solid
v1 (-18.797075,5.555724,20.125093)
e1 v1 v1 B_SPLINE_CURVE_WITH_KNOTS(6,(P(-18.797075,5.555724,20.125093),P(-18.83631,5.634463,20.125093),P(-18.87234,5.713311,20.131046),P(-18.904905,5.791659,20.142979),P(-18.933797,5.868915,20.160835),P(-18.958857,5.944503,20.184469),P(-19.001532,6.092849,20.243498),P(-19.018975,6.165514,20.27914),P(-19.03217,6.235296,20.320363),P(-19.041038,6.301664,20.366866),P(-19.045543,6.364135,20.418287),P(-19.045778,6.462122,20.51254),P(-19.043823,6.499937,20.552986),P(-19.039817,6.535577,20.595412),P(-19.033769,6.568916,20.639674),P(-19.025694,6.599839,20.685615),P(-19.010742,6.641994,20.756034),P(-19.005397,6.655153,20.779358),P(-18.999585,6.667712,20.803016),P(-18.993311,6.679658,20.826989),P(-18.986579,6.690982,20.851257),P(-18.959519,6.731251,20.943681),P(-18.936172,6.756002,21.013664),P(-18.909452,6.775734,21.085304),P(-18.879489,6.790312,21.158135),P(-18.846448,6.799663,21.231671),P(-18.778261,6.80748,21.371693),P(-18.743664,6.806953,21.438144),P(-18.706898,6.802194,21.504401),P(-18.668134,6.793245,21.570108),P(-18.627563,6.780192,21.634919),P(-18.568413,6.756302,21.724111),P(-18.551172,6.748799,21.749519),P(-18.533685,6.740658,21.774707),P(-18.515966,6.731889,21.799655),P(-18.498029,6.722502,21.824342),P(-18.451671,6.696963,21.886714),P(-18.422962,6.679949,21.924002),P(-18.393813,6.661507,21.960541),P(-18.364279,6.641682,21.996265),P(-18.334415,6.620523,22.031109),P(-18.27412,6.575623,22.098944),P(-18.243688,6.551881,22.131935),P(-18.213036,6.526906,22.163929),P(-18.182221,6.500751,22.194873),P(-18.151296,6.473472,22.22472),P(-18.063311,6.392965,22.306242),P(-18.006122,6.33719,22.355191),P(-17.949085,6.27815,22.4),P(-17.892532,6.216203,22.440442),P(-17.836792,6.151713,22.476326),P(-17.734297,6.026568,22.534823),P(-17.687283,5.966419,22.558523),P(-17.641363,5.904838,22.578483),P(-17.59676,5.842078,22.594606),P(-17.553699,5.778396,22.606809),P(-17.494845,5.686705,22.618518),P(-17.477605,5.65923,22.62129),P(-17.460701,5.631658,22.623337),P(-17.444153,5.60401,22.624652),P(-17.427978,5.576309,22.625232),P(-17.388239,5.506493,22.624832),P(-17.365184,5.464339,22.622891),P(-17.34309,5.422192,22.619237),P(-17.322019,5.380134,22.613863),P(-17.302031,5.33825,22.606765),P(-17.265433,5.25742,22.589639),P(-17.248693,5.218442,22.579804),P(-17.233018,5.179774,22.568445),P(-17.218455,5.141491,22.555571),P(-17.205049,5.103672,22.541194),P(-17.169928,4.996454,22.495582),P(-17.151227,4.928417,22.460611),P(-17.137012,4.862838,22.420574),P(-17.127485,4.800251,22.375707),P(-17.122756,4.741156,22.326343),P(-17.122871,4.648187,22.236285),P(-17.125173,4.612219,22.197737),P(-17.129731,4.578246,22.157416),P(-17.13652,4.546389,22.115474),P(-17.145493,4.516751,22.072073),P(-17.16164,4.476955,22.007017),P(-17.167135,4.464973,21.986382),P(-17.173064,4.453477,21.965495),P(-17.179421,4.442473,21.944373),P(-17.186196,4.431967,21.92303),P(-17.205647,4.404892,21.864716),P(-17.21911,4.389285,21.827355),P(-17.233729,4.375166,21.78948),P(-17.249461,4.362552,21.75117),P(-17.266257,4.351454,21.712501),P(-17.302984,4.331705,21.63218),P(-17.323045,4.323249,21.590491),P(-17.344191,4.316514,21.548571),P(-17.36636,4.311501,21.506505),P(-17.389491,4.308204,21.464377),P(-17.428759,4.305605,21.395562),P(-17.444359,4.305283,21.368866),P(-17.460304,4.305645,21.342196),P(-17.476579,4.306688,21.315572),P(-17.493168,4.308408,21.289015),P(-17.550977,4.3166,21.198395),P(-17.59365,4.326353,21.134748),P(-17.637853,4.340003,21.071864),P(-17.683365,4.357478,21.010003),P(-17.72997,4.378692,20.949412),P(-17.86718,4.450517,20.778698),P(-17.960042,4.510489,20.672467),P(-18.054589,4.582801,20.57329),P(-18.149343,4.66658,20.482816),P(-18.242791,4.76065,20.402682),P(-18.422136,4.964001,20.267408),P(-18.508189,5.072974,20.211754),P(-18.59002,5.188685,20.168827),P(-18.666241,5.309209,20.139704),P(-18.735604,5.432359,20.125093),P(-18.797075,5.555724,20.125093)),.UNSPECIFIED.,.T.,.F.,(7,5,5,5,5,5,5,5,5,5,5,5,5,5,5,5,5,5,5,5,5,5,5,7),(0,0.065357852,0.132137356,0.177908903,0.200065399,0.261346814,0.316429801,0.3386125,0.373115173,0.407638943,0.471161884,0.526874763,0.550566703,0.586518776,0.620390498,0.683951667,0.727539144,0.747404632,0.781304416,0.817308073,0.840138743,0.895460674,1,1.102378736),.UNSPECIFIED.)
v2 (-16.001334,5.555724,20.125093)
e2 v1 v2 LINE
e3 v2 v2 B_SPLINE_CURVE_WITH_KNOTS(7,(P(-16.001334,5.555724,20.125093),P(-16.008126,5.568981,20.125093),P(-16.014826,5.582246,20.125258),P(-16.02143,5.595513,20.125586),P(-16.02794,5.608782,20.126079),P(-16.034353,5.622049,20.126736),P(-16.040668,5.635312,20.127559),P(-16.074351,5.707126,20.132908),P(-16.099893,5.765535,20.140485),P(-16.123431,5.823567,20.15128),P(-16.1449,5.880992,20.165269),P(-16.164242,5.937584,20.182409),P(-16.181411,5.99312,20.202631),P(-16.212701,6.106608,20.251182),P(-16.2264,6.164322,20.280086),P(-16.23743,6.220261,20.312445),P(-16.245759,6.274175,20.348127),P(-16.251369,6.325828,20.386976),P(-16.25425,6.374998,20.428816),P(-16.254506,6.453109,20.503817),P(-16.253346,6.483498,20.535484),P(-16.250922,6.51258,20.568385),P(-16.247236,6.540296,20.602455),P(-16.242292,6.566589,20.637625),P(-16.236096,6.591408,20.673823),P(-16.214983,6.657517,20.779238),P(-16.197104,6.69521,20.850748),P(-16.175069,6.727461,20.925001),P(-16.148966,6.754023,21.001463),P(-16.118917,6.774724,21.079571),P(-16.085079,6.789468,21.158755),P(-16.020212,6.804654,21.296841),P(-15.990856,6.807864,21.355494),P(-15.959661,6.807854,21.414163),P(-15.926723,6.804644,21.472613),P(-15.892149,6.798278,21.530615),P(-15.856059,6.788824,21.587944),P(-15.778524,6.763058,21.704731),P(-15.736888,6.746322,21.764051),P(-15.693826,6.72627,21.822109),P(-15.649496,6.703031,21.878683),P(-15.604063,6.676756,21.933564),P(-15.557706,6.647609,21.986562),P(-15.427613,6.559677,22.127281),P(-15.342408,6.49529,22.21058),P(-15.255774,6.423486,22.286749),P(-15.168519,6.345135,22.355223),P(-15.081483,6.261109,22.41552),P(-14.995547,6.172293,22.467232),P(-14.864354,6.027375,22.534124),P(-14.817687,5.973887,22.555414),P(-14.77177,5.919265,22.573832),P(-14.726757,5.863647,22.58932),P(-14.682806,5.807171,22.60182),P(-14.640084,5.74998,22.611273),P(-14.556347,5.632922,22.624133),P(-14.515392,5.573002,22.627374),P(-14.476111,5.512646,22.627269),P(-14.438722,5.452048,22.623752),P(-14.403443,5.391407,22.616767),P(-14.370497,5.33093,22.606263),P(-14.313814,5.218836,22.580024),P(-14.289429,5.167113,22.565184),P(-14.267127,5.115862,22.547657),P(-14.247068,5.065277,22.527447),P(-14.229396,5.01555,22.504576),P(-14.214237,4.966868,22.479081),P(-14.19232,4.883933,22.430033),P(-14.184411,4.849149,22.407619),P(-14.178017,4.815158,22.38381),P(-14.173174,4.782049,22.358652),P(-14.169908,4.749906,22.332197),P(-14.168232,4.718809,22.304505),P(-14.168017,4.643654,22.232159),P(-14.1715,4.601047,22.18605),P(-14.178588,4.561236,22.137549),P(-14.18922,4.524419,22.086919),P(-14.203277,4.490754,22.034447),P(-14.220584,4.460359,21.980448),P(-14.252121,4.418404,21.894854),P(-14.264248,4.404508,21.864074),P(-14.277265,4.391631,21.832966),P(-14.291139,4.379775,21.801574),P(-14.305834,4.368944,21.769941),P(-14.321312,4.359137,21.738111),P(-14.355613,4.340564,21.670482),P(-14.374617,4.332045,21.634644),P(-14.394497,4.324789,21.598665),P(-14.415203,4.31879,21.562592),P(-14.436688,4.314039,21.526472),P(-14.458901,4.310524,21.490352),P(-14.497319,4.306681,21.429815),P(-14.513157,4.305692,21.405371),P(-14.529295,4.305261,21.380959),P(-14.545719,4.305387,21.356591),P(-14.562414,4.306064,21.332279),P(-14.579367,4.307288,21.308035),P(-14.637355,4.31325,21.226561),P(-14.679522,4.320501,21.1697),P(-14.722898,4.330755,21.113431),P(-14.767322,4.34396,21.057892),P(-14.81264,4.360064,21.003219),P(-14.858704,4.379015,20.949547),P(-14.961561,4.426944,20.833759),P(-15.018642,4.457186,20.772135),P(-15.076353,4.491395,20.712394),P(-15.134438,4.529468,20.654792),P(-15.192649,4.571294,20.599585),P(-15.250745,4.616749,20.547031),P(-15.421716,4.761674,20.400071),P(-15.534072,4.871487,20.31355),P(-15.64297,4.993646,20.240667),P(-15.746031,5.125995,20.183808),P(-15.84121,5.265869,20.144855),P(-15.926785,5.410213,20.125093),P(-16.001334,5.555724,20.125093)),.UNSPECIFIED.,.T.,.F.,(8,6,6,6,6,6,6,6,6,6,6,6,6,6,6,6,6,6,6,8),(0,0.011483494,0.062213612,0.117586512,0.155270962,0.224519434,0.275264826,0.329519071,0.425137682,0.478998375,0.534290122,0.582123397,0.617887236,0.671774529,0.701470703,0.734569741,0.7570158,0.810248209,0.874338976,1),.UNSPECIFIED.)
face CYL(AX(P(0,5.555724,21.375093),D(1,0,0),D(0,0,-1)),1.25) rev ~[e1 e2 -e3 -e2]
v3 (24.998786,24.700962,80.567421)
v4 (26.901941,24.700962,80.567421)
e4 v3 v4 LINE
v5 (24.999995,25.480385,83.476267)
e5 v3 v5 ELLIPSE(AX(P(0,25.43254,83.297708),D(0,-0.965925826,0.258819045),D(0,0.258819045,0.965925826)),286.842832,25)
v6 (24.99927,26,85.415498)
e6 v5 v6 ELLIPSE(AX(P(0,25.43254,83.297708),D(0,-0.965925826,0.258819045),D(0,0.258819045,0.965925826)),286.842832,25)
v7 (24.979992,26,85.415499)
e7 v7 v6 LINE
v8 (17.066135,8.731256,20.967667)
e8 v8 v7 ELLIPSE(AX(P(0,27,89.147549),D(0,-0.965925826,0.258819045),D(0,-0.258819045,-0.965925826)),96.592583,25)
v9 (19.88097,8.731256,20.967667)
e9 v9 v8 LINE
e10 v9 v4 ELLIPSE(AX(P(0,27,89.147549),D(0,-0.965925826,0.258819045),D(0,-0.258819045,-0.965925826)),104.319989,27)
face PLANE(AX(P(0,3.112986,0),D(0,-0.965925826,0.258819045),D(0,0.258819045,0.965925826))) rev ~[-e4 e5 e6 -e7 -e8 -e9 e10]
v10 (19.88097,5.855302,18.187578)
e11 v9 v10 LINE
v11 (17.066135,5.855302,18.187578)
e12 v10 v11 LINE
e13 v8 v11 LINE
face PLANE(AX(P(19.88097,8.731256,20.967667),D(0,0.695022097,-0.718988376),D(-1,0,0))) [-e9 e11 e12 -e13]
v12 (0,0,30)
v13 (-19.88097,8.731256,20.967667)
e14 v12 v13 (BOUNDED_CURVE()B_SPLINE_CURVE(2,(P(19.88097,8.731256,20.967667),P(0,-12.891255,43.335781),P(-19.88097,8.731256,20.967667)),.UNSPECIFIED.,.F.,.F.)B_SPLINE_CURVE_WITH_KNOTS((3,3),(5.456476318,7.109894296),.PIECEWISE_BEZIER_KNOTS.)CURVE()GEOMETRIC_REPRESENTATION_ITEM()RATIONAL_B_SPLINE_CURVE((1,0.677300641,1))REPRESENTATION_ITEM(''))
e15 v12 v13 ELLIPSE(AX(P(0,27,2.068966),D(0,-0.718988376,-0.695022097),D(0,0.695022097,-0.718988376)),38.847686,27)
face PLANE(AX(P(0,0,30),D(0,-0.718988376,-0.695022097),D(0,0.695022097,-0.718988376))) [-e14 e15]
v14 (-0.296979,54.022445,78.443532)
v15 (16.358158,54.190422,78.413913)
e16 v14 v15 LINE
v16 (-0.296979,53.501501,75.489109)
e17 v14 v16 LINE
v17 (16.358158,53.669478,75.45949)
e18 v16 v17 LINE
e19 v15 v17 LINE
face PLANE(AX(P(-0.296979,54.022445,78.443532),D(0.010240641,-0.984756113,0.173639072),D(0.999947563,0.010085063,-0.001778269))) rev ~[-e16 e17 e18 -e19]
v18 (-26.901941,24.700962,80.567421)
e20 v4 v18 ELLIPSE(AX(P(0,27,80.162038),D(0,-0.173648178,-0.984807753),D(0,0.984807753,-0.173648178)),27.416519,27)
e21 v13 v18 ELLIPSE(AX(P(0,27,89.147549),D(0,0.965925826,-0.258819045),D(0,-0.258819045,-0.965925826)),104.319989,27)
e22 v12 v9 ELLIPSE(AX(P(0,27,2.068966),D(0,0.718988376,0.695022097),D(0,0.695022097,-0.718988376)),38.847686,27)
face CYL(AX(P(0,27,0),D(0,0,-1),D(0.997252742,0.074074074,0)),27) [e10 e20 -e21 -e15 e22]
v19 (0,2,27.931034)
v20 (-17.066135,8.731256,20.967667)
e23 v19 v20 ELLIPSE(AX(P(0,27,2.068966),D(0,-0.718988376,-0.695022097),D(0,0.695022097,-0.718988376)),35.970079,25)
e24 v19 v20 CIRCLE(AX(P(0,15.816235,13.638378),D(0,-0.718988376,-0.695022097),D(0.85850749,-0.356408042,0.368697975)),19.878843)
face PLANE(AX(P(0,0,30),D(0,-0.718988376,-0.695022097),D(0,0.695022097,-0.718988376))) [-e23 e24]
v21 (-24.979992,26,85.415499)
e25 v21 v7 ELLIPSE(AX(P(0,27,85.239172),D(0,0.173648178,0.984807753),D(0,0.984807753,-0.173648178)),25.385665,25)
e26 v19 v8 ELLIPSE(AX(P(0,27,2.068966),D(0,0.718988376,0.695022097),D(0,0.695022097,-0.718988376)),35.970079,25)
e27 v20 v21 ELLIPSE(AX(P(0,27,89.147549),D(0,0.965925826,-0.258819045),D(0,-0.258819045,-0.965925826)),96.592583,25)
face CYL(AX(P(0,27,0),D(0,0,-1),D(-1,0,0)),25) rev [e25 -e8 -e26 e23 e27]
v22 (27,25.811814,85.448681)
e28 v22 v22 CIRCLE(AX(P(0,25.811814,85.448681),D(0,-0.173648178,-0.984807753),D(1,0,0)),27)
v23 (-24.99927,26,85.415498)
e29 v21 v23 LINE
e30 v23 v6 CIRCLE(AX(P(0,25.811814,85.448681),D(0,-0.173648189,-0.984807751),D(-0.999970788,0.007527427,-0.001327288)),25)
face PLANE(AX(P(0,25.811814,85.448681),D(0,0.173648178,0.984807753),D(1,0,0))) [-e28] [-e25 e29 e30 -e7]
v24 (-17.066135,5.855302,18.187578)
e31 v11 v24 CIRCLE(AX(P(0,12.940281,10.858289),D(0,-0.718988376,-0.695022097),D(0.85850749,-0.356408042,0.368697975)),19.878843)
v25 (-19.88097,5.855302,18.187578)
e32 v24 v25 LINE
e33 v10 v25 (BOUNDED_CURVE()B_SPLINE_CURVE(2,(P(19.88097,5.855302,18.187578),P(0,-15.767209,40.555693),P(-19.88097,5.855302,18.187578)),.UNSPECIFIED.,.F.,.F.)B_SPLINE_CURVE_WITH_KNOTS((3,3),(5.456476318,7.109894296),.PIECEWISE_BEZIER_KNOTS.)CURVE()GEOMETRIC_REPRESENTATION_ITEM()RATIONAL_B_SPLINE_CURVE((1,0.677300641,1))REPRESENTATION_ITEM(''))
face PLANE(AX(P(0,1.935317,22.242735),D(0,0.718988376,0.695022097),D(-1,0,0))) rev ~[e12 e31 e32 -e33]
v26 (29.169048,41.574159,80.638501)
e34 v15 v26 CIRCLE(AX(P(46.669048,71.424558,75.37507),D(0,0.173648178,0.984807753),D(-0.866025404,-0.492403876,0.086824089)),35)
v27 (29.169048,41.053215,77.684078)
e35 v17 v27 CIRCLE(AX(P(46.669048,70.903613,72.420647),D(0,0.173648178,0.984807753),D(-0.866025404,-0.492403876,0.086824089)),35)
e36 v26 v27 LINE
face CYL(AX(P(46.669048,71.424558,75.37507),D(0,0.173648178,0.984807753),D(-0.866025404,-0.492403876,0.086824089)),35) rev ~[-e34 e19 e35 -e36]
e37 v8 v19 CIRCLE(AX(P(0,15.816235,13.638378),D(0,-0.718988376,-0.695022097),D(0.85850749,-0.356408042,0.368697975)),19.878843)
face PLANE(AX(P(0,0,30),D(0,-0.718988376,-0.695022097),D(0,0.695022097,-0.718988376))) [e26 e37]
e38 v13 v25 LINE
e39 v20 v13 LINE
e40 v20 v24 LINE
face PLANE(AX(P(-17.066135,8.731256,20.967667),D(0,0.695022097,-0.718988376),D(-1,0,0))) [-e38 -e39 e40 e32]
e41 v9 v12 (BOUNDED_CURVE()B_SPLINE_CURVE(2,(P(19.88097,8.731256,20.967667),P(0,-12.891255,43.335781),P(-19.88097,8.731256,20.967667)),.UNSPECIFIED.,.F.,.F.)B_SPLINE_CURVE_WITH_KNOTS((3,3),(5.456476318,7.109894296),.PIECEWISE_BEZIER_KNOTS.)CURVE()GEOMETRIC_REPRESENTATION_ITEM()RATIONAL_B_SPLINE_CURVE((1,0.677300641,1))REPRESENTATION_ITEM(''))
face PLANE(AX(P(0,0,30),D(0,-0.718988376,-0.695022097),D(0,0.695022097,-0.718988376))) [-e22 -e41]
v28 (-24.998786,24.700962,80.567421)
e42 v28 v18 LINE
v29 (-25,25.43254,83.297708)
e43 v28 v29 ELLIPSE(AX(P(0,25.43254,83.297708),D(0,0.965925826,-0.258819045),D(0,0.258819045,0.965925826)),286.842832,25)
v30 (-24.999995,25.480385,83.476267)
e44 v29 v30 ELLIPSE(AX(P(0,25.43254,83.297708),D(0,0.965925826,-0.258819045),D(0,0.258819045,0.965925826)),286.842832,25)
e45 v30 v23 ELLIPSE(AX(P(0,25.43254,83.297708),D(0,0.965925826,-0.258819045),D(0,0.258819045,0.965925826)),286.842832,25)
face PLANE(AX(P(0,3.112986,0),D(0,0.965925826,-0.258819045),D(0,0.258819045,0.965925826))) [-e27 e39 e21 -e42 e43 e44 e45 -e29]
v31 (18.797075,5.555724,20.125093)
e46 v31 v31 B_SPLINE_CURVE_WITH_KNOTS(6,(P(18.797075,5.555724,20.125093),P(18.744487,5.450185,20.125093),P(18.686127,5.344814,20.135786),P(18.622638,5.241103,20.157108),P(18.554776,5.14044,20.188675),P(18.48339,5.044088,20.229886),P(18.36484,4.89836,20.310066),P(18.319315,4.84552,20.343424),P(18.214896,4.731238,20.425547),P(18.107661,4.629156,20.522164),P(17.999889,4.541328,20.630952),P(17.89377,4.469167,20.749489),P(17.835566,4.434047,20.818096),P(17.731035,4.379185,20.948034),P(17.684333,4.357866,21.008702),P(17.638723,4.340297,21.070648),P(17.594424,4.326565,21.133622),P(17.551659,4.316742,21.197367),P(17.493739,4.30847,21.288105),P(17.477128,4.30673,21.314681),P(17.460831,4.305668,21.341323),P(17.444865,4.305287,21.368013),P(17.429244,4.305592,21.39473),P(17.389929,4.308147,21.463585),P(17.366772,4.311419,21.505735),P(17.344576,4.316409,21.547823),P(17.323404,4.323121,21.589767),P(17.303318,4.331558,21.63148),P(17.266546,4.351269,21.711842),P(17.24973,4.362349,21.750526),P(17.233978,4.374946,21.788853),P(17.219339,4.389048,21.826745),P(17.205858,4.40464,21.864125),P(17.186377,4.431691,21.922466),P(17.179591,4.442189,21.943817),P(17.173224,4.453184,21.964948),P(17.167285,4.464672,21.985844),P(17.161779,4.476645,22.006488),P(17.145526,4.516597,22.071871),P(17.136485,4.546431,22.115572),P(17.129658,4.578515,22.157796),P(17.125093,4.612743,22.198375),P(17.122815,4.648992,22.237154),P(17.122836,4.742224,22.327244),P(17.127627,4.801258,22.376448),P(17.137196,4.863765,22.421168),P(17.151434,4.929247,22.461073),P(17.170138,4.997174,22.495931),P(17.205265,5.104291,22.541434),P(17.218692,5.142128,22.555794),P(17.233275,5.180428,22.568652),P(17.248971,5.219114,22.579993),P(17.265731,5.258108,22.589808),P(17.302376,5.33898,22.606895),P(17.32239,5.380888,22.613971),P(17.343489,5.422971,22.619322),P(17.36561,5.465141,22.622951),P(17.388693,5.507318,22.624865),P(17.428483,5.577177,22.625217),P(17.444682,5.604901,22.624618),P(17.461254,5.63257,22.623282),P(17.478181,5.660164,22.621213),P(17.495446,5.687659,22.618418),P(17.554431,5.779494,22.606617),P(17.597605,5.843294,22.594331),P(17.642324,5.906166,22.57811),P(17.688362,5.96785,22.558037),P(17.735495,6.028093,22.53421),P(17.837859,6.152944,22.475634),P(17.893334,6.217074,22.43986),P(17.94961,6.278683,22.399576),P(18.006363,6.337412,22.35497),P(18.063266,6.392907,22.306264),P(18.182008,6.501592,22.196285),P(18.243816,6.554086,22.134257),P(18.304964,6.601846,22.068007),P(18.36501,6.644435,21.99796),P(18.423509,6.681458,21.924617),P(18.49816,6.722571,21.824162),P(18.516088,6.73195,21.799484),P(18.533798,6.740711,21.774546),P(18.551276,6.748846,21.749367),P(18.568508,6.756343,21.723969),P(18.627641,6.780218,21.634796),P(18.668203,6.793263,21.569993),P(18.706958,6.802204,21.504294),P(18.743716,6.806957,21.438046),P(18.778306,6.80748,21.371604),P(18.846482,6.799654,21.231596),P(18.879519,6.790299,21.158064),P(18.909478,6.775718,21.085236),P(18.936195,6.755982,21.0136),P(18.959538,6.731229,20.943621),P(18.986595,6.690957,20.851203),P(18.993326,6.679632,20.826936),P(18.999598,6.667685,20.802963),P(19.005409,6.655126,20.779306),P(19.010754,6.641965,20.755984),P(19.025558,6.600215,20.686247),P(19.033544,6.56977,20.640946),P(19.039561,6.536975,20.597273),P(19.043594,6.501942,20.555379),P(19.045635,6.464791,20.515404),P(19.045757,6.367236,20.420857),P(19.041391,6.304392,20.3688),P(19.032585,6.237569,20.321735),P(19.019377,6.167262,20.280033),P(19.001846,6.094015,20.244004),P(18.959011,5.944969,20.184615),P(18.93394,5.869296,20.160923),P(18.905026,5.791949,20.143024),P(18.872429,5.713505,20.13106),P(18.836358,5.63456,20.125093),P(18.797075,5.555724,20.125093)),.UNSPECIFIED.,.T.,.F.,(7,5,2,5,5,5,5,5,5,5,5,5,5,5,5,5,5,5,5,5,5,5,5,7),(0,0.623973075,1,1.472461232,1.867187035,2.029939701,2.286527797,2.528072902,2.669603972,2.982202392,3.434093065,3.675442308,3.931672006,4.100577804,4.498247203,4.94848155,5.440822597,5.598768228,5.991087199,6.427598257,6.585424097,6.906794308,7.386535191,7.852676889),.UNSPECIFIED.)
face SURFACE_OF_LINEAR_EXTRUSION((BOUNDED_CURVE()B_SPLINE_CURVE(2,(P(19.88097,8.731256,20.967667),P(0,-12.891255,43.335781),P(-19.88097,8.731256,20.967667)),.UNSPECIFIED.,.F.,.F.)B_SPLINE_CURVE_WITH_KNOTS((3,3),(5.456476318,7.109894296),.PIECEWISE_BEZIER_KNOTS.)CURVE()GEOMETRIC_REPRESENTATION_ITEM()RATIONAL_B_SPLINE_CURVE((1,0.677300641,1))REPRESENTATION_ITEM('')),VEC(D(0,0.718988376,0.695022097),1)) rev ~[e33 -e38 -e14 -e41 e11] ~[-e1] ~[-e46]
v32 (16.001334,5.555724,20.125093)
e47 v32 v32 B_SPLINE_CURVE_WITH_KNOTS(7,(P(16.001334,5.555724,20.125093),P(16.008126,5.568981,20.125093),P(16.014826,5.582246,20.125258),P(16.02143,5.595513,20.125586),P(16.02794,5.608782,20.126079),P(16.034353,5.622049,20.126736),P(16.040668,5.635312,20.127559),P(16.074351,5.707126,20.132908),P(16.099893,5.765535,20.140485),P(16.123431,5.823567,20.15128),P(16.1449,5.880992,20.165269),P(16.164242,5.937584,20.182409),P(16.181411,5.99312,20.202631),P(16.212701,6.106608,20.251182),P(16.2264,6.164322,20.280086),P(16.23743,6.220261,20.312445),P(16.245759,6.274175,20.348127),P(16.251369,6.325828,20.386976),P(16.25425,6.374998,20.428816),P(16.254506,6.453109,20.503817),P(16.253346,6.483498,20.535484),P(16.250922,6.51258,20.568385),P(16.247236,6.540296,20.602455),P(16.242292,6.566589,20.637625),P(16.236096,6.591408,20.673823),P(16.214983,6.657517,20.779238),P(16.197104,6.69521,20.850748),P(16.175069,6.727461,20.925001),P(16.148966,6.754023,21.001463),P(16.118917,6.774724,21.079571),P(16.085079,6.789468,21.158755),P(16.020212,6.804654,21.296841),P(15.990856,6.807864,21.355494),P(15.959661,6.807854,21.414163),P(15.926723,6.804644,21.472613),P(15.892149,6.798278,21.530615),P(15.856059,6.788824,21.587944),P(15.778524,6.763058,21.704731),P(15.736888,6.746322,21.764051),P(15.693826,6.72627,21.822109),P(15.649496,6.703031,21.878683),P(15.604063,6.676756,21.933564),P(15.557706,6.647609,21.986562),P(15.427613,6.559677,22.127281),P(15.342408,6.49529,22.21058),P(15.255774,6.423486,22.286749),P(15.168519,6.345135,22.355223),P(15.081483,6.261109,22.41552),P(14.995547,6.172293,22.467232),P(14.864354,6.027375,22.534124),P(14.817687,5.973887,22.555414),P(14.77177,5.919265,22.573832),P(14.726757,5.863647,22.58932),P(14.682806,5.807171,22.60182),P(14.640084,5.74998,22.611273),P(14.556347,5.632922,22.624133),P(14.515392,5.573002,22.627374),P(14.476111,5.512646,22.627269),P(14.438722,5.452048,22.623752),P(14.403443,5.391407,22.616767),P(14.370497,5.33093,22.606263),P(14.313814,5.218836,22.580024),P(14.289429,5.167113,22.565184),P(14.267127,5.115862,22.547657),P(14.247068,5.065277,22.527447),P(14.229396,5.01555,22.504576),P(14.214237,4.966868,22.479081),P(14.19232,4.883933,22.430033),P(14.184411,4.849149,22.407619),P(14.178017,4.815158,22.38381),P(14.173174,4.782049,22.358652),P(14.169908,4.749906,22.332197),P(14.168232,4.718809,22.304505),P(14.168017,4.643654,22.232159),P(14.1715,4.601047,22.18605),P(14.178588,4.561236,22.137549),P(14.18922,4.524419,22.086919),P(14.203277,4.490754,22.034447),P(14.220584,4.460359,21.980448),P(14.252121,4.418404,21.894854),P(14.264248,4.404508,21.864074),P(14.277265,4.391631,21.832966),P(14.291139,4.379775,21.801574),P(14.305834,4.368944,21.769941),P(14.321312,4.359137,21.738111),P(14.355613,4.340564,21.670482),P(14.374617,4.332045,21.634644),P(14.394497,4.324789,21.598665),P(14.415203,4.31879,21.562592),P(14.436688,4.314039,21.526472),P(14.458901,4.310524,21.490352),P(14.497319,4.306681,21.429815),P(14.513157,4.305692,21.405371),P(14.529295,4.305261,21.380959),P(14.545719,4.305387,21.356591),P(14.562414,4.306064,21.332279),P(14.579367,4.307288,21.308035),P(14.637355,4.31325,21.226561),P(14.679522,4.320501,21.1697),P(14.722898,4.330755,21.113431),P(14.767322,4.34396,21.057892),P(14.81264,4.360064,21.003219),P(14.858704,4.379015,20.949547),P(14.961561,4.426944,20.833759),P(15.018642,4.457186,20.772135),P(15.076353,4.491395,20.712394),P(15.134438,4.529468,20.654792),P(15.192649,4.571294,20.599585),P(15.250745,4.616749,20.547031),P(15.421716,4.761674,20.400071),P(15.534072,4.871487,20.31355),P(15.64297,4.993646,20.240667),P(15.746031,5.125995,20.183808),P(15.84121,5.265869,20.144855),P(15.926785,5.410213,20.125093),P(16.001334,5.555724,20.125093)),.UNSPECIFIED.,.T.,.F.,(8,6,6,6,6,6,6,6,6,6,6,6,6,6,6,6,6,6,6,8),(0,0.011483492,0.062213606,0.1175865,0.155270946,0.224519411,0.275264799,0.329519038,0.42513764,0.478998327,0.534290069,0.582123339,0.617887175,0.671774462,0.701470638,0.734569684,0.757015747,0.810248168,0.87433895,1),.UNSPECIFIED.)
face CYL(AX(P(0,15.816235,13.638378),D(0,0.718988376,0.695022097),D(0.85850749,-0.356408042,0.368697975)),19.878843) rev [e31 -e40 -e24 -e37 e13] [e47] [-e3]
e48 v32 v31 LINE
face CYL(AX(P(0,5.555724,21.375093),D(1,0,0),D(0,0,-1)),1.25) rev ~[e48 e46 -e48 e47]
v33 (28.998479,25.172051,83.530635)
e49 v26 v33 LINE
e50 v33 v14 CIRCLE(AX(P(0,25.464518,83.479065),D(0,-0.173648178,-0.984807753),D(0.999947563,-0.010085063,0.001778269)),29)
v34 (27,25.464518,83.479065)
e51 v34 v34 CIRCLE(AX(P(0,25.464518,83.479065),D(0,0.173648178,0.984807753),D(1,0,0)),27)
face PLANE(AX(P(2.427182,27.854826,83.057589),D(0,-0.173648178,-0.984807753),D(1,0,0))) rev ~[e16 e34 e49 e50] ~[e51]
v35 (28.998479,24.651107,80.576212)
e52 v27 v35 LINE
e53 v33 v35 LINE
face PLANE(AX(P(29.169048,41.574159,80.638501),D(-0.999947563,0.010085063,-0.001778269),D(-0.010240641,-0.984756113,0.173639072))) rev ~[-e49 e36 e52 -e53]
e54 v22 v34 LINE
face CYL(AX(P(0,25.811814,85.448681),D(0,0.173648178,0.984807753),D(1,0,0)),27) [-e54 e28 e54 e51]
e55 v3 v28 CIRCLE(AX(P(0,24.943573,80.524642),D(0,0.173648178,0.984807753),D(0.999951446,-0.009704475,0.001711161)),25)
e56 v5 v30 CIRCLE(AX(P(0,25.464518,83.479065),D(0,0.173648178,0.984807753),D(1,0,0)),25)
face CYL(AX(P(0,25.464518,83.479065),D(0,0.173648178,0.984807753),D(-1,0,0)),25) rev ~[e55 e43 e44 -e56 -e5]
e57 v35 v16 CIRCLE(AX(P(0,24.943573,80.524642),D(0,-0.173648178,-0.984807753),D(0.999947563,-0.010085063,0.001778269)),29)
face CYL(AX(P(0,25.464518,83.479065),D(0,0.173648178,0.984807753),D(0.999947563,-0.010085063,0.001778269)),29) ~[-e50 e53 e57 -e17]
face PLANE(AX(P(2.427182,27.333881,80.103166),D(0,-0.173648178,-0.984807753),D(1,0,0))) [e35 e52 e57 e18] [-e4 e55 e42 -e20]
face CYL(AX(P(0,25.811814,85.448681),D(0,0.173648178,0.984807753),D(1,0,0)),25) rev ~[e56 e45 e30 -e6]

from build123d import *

# Parameters (mm, degrees)
MAIN_DEPTH                = 90
TOPSUPPORT_DEPTH          = 28
TOPSUPPORT_DEPTH_BACK     = 28
BACK_EXTRUSION_DEPTH      = 28
BACK_EXTRUSION_DEPTH_BACK = 28
BACK_DEPTH                = 4
SKETCH8_R                 = 1.25
ROLLINGHOLESUPPORT_DEPTH  = 25
SKETCH3_R                 = 27
SKETCH3_R_2               = 25
CIRCLEFIX_DEPTH           = 2
SKETCH5_R                 = 25
TRIANGLEFIX_DEPTH         = 3
SKETCH12_R                = 52.533480643
CUT_EXTRUDE2_DEPTH        = 10.545165469


with BuildPart() as part:
    # Sketch1 → Main (new body)
    with BuildSketch(Plane.XY):
        with BuildLine():
            Line((25, 27), (25, 29))
            Line((25, 29), (26.925824036, 29))
            ThreePointArc((26.925824036, 29), (0, 0), (-26.925824036, 29))
            Line((-26.925824036, 29), (-25, 29))
            Line((-25, 29), (-25, 27))
            ThreePointArc((-25, 27), (0, 2), (25, 27))
        make_face()
    extrude(amount=MAIN_DEPTH)

    # Sketch11 → TopSupport (cut, two sides)
    with BuildSketch(Plane(origin=(0, 0, 0), x_dir=(0, 0, -1), z_dir=(1, 0, 0))) as topsupport_sk:
        Polygon((-84.886517559, 29), (0, 29), (0, 3.112986155), (-85.415498502, 26), align=None)
    extrude(amount=TOPSUPPORT_DEPTH, mode=Mode.SUBTRACT)
    extrude(topsupport_sk.sketch, amount=-TOPSUPPORT_DEPTH_BACK, mode=Mode.SUBTRACT)

    # Sketch6 → Back-Extrusion (cut, two sides)
    with BuildSketch(Plane(origin=(0, 0, 0), x_dir=(0, 0, -1), z_dir=(1, 0, 0))) as back_extrusion_sk:
        Polygon((0, 29), (0, 0), (-30, 0), align=None)
    extrude(amount=BACK_EXTRUSION_DEPTH, mode=Mode.SUBTRACT)
    extrude(back_extrusion_sk.sketch, amount=-BACK_EXTRUSION_DEPTH_BACK, mode=Mode.SUBTRACT)

    # Sketch7 → Back (add)
    with BuildSketch(Plane(origin=(0, 14.991384262, 14.491671453), x_dir=(1, 0, 0), z_dir=(0, -0.718988376, -0.695022097))):
        with BuildLine():
            Line((19.880970173, 9.007093118), (17.066135327, 9.007093118))
            ThreePointArc((17.066135327, 9.007093118), (0, 18.69204493), (-17.066135327, 9.007093118))
            Line((-17.066135327, 9.007093118), (-19.880970173, 9.007093118))
            add(Edge.make_bspline(
                [(19.880970173, 9.007093118), (0, 40.117630414), (-19.880970173, 9.007093118)],
                knots=[5.456476318, 5.456476318, 5.456476318, 7.109894296, 7.109894296, 7.109894296], degree=2, weights=[1, 0.677300641, 1]))
        make_face()
    extrude(amount=BACK_DEPTH)

    # Sketch8 → RollingHoleSupport (cut, symmetric)
    with BuildSketch(Plane(origin=(0, 0, 0), x_dir=(0, 0, -1), z_dir=(1, 0, 0))):
        with Locations((-21.375093453, 5.555723522)):
            Circle(SKETCH8_R)
    extrude(amount=ROLLINGHOLESUPPORT_DEPTH, both=True, mode=Mode.SUBTRACT)

    # Sketch3 → CircleFix (add)
    with BuildSketch(Plane(origin=(0, 0.398226786, 89.929781873), x_dir=(1, 0, 0), z_dir=(0, 0.173648178, 0.984807753))):
        with Locations((0, 25.80563308)):
            Circle(SKETCH3_R)
        with Locations((0, 25.80563308)):
            Circle(SKETCH3_R_2, mode=Mode.SUBTRACT)
    extrude(amount=-CIRCLEFIX_DEPTH)

    # Sketch5 → TriangleFix (add)
    with BuildSketch(Plane(origin=(0, 15.043610094, 85.316552429), x_dir=(-1, 0, 0), z_dir=(0, 0.173648178, 0.984807753))):
        with BuildLine():
            Line((0.29697859, -39.580146501), (-16.358158426, -39.750714725))
            ThreePointArc((-16.358158426, -39.750714725), (-21.920310217, -32.501977383), (-29.169047558, -26.939825592))
            Line((-29.169047558, -26.939825592), (-28.998479335, -10.284688576))
            ThreePointArc((-28.998479335, -10.284688576), (20.506096654, 9.924429488), (0.29697859, -39.580146501))
        make_face()
        with Locations((0, -10.581667167)):
            Circle(SKETCH5_R, mode=Mode.SUBTRACT)
    extrude(amount=-TRIANGLEFIX_DEPTH)

    # Sketch12 → Cut-Extrude2 (cut, through all)
    with BuildSketch(Plane(origin=(0, 15.39090645, 87.286167935), x_dir=(1, 0, 0), z_dir=(0, 0.173648178, 0.984807753))):
        with Locations((0, 15.306580729)):
            Circle(SKETCH12_R)
    extrude(amount=CUT_EXTRUDE2_DEPTH, mode=Mode.SUBTRACT)


solid = part.part
